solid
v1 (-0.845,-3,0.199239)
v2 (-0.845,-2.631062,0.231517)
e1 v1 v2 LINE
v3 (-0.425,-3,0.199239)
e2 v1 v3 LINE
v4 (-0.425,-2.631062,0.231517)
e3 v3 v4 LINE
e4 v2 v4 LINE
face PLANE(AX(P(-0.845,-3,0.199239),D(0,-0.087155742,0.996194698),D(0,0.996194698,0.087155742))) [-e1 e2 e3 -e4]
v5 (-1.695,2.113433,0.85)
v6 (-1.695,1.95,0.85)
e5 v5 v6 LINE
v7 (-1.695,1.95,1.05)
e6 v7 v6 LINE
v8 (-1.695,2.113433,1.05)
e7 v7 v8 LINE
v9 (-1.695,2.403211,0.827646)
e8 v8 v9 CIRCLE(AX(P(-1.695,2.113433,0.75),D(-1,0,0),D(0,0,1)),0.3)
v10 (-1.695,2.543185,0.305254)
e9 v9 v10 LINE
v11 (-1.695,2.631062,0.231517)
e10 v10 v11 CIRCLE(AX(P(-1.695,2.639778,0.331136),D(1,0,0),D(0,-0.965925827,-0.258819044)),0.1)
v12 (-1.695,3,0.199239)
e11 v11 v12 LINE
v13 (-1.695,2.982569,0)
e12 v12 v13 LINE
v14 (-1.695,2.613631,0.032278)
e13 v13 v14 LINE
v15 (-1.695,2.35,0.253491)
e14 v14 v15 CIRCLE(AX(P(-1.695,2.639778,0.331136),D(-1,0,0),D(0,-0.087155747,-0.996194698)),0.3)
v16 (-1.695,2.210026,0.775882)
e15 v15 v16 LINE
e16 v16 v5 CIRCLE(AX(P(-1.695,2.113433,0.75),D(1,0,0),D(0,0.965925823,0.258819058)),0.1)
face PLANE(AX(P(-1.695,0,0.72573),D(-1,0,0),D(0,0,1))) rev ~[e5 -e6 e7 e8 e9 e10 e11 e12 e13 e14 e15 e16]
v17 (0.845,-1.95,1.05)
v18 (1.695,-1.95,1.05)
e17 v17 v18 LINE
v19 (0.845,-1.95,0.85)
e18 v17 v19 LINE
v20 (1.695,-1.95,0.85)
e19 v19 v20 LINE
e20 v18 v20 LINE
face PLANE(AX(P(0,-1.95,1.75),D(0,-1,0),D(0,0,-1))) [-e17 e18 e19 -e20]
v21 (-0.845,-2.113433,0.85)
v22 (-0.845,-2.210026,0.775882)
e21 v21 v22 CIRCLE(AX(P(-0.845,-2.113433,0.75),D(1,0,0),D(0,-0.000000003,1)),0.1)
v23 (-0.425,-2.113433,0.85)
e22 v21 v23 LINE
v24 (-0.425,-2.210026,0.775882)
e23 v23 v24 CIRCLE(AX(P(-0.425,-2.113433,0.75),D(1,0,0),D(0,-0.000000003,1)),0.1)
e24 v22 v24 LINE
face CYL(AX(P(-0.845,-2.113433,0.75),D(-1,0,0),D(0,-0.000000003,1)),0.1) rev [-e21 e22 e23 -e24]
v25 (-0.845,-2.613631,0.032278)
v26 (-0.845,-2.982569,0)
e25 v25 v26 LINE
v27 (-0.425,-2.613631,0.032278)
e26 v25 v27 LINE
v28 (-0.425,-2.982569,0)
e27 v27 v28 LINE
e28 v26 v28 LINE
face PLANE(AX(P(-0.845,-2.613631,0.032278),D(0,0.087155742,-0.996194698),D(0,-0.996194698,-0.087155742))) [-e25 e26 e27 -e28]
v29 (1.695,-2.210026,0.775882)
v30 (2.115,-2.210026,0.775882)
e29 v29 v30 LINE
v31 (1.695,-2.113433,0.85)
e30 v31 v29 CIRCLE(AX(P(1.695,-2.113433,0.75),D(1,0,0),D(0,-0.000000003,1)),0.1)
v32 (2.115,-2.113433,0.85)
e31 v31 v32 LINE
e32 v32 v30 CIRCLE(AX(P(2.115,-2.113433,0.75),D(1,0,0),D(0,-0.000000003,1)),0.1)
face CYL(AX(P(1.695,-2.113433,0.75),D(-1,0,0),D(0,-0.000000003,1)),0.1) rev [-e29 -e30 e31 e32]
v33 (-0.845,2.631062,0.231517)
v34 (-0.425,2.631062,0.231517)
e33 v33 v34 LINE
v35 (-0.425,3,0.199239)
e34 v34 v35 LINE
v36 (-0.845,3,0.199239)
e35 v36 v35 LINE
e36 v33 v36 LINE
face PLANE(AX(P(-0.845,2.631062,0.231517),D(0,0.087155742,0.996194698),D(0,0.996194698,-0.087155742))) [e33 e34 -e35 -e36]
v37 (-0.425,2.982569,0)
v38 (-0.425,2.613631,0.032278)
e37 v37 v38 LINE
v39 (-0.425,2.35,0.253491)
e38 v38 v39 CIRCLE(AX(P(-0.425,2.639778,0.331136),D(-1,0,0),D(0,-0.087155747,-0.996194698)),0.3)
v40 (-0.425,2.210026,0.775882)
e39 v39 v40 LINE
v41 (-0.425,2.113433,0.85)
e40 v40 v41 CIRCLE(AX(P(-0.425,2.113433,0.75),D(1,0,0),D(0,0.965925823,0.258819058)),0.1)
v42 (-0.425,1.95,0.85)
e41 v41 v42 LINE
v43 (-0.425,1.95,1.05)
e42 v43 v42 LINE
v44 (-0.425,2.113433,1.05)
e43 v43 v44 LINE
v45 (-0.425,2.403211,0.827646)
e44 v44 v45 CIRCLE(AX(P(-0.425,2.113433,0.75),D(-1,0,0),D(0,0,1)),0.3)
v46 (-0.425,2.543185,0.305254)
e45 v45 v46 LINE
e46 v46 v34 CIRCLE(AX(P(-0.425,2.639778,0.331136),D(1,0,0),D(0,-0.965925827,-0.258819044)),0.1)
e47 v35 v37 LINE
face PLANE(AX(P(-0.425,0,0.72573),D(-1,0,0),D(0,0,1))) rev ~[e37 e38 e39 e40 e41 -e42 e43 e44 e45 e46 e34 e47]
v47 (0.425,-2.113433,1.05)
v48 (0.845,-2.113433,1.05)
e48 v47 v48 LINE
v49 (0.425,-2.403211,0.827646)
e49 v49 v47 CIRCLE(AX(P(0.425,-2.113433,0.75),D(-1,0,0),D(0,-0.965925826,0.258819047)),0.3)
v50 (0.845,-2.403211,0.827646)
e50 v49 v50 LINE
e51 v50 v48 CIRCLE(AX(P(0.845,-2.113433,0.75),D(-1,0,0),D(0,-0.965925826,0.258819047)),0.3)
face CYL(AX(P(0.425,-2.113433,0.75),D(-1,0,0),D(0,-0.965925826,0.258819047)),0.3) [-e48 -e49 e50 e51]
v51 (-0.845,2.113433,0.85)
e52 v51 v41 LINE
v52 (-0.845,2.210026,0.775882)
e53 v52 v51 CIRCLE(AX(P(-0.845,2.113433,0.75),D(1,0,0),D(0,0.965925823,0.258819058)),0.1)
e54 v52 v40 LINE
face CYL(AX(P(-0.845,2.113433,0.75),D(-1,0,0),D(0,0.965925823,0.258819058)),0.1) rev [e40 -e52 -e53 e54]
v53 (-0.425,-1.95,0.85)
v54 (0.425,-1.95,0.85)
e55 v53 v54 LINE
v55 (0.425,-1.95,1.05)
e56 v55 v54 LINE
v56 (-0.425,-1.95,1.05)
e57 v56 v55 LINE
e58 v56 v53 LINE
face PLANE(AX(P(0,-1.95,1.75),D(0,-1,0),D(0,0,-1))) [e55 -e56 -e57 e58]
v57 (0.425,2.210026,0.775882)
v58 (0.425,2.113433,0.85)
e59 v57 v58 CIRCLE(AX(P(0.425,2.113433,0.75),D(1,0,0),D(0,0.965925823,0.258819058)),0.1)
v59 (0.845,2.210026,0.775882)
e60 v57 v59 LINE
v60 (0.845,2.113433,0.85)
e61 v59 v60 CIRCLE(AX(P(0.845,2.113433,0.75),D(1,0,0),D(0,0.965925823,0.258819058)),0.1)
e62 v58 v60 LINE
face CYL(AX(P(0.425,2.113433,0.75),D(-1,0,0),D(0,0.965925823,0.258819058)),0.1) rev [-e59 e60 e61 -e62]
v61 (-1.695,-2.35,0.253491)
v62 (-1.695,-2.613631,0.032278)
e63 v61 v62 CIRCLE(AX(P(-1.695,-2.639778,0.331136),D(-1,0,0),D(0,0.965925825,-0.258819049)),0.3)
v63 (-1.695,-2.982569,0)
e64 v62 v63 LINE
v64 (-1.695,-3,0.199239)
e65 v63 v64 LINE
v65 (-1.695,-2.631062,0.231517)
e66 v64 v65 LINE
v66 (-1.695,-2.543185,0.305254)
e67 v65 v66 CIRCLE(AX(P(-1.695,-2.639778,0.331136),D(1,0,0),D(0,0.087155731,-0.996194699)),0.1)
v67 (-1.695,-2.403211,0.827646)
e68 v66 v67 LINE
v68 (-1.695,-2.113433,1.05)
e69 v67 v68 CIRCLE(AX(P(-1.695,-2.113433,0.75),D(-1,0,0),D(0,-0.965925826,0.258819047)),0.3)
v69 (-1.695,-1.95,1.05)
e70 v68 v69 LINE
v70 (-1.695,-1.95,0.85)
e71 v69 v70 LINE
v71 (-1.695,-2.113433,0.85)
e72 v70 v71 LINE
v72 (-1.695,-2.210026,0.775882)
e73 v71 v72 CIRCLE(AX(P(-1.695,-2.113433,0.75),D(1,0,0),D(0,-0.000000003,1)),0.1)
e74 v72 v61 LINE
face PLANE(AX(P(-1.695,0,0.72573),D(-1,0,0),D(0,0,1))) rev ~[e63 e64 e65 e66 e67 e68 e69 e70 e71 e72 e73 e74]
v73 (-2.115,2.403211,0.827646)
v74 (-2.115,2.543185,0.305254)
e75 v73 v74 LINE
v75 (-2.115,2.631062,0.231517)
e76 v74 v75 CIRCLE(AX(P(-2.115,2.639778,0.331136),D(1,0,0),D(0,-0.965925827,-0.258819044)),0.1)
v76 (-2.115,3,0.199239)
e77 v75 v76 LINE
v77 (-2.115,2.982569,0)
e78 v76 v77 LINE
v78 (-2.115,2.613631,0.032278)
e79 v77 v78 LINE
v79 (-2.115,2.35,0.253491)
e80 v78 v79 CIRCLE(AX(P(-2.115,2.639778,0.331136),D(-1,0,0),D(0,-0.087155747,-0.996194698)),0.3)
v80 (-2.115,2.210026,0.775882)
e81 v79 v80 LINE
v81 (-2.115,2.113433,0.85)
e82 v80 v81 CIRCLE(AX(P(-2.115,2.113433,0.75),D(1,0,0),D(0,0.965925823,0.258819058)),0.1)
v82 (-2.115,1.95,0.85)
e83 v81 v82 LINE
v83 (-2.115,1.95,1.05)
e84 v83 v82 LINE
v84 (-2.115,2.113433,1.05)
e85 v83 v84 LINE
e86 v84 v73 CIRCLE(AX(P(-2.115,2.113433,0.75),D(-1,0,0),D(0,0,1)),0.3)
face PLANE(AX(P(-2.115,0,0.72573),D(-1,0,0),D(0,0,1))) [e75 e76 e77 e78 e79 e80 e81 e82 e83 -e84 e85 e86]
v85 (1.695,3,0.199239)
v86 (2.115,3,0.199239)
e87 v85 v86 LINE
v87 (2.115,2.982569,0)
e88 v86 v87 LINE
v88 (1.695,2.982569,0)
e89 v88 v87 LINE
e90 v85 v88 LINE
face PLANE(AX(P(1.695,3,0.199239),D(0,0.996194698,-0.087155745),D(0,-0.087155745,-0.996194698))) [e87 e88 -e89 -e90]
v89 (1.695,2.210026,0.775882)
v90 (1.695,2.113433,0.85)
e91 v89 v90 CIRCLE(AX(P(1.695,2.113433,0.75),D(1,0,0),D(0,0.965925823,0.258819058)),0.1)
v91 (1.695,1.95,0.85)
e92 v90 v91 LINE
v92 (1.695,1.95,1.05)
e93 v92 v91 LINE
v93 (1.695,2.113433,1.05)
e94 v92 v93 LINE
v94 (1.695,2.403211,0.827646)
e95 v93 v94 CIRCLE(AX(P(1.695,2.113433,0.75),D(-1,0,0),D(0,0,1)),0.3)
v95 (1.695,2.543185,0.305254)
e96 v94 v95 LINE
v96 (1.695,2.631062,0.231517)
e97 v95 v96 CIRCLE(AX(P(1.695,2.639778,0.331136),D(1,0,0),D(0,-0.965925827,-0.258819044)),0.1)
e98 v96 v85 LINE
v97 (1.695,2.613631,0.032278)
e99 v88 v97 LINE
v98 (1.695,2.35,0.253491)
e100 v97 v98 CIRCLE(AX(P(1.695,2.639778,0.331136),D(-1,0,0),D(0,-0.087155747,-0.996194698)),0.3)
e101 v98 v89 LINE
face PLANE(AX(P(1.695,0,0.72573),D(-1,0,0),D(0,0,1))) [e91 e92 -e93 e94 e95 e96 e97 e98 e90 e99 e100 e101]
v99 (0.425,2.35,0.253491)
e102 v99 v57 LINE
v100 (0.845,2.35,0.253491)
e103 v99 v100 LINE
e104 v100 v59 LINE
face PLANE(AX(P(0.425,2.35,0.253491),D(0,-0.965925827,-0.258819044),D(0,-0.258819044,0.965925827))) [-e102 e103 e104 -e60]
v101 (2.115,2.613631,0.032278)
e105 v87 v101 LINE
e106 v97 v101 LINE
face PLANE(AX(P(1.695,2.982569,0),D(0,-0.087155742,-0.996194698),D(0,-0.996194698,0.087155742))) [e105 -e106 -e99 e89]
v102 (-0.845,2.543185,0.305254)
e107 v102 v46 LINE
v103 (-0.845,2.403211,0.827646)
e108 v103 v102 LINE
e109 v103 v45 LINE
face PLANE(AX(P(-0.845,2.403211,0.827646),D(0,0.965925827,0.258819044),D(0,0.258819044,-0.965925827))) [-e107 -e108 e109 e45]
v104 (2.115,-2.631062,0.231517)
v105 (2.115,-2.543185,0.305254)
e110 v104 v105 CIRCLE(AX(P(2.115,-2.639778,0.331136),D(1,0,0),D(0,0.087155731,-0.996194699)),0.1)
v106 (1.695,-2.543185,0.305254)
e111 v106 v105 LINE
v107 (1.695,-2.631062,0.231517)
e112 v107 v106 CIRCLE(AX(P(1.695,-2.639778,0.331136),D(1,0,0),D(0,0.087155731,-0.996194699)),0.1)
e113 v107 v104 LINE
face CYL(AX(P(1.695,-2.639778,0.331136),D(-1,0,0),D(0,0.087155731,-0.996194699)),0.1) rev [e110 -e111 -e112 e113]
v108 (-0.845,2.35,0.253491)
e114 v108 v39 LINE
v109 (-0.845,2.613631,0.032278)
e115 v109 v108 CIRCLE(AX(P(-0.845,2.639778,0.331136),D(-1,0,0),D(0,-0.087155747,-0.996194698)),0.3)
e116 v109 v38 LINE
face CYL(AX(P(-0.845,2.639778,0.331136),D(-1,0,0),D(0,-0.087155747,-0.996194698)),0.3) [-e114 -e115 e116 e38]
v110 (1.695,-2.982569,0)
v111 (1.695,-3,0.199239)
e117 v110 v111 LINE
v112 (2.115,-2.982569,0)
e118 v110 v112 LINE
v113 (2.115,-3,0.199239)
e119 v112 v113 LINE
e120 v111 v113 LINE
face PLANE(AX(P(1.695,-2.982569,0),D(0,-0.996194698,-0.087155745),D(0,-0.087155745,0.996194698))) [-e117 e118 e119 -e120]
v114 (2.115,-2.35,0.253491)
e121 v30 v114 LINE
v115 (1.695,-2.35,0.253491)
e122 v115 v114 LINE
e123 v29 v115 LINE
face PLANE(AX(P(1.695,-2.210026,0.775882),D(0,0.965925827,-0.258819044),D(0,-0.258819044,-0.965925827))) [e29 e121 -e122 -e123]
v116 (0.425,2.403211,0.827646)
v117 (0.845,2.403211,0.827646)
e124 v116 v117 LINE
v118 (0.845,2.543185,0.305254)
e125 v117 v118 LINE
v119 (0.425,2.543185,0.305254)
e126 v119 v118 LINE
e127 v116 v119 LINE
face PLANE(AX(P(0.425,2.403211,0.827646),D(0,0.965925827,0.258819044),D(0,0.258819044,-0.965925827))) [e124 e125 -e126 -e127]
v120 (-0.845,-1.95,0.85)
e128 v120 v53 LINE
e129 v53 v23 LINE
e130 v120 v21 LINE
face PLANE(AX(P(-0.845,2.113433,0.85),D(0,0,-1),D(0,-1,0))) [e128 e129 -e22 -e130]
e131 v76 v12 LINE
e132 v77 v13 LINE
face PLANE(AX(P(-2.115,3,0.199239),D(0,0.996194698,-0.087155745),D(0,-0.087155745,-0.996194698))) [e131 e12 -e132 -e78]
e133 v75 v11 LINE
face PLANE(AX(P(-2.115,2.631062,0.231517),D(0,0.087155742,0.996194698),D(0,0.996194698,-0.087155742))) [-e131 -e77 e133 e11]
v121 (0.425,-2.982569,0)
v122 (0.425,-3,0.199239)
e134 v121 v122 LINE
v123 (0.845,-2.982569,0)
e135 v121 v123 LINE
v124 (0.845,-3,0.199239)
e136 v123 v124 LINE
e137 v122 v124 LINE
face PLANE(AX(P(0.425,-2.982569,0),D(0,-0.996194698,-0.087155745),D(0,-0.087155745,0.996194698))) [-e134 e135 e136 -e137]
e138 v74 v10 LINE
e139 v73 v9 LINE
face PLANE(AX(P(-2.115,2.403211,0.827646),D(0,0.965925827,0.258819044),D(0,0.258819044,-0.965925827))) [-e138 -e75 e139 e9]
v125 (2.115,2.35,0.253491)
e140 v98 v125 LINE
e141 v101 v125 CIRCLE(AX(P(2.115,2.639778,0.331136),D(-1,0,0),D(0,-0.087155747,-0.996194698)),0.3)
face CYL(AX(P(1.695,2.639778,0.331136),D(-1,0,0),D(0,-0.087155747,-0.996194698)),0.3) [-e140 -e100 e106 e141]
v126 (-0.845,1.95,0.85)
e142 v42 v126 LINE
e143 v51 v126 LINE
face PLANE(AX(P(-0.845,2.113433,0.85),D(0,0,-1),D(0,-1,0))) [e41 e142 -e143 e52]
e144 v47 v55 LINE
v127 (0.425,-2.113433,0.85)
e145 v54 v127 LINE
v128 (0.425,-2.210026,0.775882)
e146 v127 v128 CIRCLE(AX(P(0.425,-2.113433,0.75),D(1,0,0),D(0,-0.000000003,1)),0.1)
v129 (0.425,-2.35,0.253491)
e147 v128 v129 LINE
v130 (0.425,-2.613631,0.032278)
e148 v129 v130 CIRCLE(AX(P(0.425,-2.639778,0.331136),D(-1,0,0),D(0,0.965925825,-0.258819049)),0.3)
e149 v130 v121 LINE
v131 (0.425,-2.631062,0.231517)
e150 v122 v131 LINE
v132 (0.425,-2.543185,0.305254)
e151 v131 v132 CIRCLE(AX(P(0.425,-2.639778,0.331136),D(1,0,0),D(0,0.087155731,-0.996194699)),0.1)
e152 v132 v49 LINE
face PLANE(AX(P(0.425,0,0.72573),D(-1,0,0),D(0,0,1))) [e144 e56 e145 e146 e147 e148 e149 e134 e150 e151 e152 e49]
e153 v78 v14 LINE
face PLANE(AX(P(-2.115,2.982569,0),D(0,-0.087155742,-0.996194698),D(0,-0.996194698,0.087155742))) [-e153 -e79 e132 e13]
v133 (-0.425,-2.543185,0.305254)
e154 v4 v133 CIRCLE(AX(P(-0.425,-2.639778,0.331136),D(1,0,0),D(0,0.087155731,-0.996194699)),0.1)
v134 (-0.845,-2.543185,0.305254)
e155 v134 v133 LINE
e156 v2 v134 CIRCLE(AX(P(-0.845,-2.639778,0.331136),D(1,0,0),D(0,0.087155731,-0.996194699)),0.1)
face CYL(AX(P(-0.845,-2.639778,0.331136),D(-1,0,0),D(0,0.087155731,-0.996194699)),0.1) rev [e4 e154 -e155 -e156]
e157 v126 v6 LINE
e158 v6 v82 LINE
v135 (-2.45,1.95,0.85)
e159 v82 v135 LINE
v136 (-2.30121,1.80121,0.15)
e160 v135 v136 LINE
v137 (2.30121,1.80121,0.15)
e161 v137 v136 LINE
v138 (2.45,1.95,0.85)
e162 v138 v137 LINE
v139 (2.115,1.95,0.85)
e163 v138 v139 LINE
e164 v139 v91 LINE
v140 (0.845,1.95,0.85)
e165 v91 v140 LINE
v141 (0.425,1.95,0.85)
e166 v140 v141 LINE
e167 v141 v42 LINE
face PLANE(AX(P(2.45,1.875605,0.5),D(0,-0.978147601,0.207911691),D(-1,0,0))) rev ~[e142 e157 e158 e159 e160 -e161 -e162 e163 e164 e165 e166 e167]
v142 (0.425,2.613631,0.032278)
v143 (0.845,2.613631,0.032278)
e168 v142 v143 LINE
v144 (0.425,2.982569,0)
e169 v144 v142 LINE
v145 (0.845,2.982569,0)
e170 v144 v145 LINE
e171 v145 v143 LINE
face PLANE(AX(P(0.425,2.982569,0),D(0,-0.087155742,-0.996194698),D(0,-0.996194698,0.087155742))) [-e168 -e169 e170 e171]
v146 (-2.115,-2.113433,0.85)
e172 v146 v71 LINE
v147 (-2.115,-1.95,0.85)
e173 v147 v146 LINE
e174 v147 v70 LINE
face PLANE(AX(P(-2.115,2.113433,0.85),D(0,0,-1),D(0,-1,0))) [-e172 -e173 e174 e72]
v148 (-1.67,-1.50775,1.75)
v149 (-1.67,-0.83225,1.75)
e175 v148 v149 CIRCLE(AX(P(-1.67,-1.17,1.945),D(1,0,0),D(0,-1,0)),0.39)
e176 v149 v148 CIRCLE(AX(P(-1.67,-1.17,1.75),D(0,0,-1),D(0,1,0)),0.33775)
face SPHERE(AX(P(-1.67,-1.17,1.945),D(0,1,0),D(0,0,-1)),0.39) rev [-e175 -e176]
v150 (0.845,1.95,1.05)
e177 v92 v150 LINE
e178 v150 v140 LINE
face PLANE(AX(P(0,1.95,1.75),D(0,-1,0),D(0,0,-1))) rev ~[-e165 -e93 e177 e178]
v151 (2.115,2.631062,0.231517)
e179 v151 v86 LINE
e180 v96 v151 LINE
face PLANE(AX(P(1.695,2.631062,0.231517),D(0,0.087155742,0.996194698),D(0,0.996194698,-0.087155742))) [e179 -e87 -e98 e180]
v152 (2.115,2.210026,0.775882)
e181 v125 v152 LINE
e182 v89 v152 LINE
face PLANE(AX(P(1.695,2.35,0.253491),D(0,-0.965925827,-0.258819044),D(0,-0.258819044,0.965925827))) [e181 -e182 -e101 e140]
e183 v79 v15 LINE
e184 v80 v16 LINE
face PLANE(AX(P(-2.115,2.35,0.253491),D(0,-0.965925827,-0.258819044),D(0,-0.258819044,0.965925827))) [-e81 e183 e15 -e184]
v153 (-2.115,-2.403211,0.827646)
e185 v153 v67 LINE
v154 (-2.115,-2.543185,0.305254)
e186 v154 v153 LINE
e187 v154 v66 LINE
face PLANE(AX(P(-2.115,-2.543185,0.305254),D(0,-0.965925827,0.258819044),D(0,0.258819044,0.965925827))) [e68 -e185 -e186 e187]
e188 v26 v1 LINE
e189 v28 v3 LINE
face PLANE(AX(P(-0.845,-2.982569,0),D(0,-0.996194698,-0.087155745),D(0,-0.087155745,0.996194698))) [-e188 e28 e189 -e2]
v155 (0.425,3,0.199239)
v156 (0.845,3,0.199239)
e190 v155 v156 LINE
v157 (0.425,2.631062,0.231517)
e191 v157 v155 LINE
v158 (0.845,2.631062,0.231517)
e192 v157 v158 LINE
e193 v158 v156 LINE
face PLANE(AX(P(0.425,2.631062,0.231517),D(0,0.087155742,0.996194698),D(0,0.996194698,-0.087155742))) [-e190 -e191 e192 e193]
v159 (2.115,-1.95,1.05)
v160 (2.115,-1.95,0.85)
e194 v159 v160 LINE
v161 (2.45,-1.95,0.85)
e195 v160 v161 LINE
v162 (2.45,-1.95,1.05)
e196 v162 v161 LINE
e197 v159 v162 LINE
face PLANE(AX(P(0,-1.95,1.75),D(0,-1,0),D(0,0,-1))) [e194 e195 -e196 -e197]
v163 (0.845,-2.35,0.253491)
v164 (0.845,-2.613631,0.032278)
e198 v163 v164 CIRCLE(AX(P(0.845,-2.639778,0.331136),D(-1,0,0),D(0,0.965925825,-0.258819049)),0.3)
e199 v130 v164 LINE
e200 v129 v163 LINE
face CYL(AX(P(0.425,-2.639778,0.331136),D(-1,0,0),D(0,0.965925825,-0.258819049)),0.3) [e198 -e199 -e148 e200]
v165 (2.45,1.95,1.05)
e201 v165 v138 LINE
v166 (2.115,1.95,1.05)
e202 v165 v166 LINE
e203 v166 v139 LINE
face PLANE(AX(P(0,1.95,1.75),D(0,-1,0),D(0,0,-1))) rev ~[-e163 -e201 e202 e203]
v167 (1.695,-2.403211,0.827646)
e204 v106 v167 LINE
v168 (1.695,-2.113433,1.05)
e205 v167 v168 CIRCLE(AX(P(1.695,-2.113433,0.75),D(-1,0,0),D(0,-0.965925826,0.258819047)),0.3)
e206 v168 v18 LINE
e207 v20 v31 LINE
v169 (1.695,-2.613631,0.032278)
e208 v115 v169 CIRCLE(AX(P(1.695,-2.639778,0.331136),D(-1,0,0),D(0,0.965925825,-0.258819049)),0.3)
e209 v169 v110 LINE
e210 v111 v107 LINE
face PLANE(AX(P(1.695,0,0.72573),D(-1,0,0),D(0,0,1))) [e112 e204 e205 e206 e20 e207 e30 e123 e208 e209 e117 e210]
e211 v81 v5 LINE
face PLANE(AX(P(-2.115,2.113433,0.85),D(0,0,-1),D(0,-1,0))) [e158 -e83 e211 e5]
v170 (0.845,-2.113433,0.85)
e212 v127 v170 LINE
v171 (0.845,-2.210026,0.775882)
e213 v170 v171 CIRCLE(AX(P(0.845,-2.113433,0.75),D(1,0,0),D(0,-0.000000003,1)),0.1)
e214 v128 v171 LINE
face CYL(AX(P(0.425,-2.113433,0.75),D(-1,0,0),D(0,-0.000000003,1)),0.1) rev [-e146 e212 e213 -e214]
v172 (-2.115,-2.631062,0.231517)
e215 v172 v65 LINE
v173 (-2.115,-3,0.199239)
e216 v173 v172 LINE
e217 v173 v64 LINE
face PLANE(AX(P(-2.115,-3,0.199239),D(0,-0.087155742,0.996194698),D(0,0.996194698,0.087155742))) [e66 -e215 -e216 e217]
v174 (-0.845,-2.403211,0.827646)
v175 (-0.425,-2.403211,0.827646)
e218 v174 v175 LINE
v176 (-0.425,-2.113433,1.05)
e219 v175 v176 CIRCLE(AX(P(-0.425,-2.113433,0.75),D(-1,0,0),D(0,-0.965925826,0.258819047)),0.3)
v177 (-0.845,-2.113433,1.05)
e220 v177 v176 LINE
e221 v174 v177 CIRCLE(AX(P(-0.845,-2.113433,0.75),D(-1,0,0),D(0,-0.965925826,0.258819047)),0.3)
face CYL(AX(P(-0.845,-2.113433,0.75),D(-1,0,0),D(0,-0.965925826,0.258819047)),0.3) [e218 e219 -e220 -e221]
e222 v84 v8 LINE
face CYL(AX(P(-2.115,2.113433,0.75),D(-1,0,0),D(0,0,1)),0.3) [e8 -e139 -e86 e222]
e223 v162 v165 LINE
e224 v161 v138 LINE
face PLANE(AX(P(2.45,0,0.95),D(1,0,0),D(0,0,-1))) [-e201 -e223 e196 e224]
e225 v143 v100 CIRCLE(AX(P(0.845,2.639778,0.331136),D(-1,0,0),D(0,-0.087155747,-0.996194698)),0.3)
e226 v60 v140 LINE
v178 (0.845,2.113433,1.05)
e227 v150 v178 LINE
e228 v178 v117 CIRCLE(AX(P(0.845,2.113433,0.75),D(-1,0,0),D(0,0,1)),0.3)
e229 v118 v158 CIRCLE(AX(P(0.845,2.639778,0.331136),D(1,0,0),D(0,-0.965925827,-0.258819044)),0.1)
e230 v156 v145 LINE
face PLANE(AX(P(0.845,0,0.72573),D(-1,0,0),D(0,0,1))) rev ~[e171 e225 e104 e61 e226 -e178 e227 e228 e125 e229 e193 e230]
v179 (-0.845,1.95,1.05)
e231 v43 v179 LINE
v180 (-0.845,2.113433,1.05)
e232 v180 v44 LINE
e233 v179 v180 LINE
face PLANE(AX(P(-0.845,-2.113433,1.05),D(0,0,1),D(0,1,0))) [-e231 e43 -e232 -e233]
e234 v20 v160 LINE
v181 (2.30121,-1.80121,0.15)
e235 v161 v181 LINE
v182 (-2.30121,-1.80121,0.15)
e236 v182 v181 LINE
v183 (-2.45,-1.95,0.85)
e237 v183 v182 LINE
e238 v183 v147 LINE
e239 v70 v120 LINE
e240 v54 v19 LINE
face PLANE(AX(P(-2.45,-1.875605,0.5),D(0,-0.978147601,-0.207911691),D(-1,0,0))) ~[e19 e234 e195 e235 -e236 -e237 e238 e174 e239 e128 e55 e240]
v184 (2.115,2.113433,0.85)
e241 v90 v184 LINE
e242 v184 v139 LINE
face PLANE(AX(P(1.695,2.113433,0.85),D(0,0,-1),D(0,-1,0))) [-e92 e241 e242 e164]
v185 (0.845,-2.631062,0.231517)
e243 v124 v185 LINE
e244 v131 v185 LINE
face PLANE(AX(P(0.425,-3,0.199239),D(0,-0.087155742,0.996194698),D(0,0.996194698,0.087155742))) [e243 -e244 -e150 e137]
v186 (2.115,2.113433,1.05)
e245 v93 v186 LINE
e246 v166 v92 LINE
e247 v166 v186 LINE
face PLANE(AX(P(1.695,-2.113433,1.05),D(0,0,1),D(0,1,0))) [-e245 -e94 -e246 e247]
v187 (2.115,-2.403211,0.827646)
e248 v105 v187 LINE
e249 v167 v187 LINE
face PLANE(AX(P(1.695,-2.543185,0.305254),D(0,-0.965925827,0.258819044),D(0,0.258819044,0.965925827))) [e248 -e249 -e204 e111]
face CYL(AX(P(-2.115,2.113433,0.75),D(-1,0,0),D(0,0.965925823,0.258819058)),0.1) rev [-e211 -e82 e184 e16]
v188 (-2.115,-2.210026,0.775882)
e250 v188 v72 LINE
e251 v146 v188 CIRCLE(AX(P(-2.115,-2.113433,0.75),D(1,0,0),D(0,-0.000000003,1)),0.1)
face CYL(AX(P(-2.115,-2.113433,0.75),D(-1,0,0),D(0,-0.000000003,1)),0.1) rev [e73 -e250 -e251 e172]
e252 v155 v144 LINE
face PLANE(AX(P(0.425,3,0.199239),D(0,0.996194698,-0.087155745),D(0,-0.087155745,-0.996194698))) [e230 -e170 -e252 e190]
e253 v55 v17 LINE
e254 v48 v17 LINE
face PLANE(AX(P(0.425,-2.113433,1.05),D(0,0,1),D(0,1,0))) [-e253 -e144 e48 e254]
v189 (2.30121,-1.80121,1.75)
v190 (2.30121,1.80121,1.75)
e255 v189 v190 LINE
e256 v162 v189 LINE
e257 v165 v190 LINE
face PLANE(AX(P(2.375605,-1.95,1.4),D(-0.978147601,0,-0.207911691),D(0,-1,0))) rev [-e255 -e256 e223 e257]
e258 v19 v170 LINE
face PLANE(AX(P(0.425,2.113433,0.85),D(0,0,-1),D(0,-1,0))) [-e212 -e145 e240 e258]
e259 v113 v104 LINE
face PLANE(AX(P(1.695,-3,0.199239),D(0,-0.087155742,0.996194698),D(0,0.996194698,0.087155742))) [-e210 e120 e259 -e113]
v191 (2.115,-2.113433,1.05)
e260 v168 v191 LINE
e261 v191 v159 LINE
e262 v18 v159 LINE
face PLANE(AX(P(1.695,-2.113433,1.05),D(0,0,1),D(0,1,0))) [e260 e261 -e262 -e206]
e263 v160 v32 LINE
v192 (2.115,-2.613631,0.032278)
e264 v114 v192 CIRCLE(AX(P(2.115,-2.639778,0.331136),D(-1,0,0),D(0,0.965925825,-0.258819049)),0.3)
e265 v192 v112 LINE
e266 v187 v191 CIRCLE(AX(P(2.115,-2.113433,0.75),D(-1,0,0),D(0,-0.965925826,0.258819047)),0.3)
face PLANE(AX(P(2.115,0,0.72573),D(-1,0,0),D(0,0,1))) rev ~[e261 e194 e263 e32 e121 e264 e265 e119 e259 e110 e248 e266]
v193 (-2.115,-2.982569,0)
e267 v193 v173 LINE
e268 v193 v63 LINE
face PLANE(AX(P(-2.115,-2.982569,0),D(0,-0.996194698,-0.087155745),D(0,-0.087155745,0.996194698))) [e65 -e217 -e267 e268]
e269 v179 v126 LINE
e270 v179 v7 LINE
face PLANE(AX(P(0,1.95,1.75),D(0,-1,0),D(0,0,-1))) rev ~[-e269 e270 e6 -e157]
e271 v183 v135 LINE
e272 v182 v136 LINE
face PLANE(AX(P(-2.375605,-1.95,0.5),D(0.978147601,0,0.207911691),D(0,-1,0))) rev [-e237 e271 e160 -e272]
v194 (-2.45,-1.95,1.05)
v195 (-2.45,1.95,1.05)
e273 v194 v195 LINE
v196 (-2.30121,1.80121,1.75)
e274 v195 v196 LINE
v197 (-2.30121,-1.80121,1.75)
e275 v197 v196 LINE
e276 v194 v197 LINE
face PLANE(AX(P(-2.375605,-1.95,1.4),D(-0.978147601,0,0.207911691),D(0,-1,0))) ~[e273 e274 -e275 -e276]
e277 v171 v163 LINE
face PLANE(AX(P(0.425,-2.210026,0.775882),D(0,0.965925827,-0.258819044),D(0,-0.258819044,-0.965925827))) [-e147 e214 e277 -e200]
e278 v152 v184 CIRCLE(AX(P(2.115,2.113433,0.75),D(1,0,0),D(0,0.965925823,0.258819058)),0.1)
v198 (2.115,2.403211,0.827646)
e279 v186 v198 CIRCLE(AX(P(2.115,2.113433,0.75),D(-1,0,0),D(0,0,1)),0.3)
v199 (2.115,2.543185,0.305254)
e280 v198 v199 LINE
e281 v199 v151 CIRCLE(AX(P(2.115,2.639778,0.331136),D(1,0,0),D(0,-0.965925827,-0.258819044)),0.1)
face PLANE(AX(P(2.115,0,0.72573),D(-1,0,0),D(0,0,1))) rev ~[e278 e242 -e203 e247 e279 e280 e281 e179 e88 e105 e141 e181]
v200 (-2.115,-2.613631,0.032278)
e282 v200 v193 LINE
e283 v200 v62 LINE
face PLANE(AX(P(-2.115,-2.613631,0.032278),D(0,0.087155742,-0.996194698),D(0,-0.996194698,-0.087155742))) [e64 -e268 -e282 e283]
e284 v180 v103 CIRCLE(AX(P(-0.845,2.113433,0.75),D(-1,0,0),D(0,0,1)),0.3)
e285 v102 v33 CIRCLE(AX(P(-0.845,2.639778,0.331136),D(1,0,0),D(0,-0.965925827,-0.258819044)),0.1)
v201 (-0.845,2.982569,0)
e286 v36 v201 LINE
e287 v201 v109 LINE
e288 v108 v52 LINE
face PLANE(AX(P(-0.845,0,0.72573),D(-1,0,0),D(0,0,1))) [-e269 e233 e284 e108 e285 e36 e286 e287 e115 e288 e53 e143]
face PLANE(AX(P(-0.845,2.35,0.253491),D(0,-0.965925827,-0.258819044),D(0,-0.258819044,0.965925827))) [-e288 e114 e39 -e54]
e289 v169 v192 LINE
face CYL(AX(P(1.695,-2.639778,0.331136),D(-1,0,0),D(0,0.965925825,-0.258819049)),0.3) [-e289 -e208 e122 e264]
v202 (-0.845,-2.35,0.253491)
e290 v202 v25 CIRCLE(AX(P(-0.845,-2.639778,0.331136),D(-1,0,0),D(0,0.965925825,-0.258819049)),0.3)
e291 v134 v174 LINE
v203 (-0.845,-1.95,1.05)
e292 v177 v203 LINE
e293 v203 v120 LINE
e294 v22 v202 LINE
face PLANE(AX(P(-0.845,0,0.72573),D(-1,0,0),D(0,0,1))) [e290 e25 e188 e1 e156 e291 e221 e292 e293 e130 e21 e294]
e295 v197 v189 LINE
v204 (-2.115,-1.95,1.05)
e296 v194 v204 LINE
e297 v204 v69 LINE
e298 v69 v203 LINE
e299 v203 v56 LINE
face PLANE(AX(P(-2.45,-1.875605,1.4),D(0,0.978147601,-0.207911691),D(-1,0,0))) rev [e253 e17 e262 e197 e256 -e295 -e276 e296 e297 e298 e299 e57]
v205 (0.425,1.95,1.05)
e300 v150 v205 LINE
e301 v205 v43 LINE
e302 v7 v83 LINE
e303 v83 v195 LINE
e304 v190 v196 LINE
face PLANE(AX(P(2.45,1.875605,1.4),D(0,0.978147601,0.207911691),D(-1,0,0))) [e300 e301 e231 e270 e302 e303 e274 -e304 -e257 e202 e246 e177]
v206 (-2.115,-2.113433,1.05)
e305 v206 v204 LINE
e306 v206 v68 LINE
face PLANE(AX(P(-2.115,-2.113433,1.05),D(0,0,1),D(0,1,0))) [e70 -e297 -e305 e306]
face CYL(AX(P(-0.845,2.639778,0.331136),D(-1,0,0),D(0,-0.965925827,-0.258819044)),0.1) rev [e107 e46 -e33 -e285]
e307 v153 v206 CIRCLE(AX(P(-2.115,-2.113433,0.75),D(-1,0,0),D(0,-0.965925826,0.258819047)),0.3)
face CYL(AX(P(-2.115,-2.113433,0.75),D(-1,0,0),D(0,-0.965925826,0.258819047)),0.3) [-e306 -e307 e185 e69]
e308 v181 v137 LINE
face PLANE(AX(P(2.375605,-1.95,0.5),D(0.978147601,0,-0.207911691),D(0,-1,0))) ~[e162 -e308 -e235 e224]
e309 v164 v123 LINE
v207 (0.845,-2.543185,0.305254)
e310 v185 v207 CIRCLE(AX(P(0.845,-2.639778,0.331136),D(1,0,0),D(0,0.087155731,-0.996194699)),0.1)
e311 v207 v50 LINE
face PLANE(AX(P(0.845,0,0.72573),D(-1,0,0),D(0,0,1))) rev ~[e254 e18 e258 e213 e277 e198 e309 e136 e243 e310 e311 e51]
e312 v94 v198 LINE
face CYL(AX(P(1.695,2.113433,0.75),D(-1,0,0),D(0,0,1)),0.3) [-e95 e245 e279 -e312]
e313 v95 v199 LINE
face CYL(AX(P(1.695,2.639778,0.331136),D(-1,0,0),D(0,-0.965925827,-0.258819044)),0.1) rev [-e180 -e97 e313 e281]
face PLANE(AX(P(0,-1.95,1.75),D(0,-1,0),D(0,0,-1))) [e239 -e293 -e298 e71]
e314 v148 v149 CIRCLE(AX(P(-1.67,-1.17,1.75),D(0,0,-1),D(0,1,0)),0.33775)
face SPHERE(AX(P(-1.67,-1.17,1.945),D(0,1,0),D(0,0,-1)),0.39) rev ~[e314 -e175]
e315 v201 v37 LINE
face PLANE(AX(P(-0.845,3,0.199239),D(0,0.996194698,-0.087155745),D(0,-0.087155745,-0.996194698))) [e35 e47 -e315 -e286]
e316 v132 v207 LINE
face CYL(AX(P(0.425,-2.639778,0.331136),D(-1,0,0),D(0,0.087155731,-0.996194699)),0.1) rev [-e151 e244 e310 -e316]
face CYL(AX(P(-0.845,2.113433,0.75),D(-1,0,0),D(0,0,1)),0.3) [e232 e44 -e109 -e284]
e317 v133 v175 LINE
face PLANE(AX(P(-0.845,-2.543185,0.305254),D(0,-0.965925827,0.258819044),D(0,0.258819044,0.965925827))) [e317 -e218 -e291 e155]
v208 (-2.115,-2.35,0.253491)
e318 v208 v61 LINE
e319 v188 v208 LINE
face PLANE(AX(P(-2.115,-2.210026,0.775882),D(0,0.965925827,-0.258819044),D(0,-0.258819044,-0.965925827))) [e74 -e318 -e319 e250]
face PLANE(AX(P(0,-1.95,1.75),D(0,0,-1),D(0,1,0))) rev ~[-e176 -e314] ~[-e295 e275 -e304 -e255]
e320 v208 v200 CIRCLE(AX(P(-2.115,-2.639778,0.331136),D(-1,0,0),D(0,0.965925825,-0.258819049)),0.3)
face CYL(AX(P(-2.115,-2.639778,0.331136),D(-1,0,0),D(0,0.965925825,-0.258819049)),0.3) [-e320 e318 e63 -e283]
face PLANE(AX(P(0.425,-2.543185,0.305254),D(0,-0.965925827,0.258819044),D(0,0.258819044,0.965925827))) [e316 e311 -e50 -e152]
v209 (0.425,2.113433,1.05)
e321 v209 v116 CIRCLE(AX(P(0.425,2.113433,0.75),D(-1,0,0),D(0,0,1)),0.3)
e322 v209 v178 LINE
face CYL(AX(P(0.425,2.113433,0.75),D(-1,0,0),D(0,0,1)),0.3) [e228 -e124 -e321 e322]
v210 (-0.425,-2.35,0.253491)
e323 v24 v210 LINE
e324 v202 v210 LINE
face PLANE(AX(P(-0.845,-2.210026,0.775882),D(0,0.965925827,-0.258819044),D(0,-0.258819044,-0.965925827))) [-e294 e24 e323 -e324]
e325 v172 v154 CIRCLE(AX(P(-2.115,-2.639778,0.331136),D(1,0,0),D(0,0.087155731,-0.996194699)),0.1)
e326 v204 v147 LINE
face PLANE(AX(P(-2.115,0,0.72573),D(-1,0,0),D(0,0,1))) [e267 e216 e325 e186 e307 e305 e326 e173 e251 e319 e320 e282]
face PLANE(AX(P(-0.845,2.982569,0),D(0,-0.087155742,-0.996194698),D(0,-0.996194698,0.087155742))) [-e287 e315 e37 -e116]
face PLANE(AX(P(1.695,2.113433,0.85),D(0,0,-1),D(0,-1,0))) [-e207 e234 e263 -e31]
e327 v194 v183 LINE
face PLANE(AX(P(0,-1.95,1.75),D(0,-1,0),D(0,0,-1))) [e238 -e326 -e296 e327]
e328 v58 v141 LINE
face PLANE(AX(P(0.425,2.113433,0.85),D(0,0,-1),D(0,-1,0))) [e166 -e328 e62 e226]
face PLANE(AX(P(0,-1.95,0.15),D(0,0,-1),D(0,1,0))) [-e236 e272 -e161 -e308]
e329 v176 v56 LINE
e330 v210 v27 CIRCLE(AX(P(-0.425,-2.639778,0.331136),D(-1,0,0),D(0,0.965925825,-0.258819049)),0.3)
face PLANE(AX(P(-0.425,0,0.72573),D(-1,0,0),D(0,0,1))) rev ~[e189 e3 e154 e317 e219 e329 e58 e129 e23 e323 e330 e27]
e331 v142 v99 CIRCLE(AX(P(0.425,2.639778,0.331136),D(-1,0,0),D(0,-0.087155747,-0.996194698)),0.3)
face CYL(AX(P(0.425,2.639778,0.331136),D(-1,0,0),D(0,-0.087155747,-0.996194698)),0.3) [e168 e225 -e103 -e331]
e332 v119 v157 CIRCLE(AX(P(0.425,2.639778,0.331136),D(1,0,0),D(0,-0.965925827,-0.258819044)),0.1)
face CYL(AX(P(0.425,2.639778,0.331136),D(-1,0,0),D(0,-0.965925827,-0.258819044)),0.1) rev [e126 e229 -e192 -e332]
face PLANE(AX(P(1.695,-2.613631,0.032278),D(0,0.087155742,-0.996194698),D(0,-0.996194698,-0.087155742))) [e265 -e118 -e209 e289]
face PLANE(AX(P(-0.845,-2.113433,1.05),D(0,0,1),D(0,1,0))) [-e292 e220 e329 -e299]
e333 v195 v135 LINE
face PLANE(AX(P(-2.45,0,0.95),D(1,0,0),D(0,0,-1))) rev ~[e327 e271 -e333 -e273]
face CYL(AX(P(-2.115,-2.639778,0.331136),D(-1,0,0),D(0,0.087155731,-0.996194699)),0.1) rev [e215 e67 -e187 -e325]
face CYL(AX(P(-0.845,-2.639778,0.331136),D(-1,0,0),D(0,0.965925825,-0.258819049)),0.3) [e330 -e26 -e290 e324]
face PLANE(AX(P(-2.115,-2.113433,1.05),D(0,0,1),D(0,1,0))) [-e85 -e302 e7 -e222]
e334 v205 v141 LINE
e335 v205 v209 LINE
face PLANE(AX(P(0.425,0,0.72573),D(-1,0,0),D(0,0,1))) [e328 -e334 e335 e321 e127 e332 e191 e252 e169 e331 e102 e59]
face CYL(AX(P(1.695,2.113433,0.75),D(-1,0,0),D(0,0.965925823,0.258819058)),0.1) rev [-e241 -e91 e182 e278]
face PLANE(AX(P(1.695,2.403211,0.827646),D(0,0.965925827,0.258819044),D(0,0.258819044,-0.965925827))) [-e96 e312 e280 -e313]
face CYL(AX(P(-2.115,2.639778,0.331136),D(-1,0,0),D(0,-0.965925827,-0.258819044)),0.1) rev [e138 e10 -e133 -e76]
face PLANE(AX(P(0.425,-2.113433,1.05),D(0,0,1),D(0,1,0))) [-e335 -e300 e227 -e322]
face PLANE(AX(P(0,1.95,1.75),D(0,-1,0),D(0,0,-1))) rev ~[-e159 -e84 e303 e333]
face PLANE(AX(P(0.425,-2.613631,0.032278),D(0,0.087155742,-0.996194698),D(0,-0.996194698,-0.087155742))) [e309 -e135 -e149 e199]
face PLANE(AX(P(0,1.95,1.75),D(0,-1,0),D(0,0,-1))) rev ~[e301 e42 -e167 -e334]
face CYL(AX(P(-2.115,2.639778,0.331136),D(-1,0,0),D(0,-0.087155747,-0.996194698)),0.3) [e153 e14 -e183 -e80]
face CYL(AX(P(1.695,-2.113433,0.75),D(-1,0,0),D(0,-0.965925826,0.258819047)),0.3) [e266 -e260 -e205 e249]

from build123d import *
from OCP.BRepFilletAPI import BRepFilletAPI_MakeChamfer
from build123d.topology import SkipClean

# Parameters (mm, degrees)
BODYWXH_W          = 1.6
BODYWXH_H          = 3.9
BOSS_BODY_DEPTH    = 2.45
CHAMFER1_SIZE      = 0.7
CHAMFER1_SIZE2     = 0.148789593
PINS_DEPTH         = 0.42
PATTERNLEADS_COUNT = 4
PATTERNLEADS_PITCH = 1.27


with BuildPart() as part:
    # BodyWxH → Boss-Body (new, symmetric)
    with BuildSketch(Plane(origin=(0, 0, 0), x_dir=(0, 0, -1), z_dir=(1, 0, 0))):
        with Locations((-0.95, 0)):
            Rectangle(BODYWXH_W, BODYWXH_H)
    extrude(amount=BOSS_BODY_DEPTH, both=True)

    # Chamfer1: one chamfer whose edges measure the first distance from different faces: ONE call of the kernel's chamfer builder (chamfer() names one face for all edges)
    chamfer1_edges_1 = [part.edges().sort_by_distance(p)[0] for p in [
        (0, -1.95, 0.15),
        (0, -1.95, 1.75),
    ]]
    chamfer1_side_1 = [part.faces().sort_by_distance(p)[0] for p in [
        (0, -1.95, 0.95),
    ]]
    chamfer1_edges_2 = [part.edges().sort_by_distance(p)[0] for p in [
        (2.45, 0, 0.15),
        (2.45, 0, 1.75),
    ]]
    chamfer1_side_2 = [part.faces().sort_by_distance(p)[0] for p in [
        (2.45, 0, 0.95),
    ]]
    chamfer1_edges_3 = [part.edges().sort_by_distance(p)[0] for p in [
        (0, 1.95, 0.15),
        (0, 1.95, 1.75),
    ]]
    chamfer1_side_3 = [part.faces().sort_by_distance(p)[0] for p in [
        (0, 1.95, 0.95),
    ]]
    chamfer1_edges_4 = [part.edges().sort_by_distance(p)[0] for p in [
        (-2.45, 0, 0.15),
        (-2.45, 0, 1.75),
    ]]
    chamfer1_side_4 = [part.faces().sort_by_distance(p)[0] for p in [
        (-2.45, 0, 0.95),
    ]]
    chamfer1 = BRepFilletAPI_MakeChamfer(part.part.solid().wrapped)
    for e in chamfer1_edges_1:
        chamfer1.Add(CHAMFER1_SIZE, CHAMFER1_SIZE2, e.wrapped, chamfer1_side_1[0].wrapped)  # the first distance lies on this face
    for e in chamfer1_edges_2:
        chamfer1.Add(CHAMFER1_SIZE, CHAMFER1_SIZE2, e.wrapped, chamfer1_side_2[0].wrapped)  # the first distance lies on this face
    for e in chamfer1_edges_3:
        chamfer1.Add(CHAMFER1_SIZE, CHAMFER1_SIZE2, e.wrapped, chamfer1_side_3[0].wrapped)  # the first distance lies on this face
    for e in chamfer1_edges_4:
        chamfer1.Add(CHAMFER1_SIZE, CHAMFER1_SIZE2, e.wrapped, chamfer1_side_4[0].wrapped)  # the first distance lies on this face
    add(Compound.cast(chamfer1.Shape()), mode=Mode.REPLACE)

    # LeadCross → Pins (add)
    with BuildSketch(Plane(origin=(-2.115, 0, 0), x_dir=(0, 0, -1), z_dir=(1, 0, 0))):
        with BuildLine():
            Line((0, -2.982568851), (-0.19923894, -3))
            Line((-0.19923894, -3), (-0.231516817, -2.631062174))
            ThreePointArc((-0.231516817, -2.631062174), (-0.254531842, -2.575498987), (-0.305254382, -2.543185165))
            Line((-0.305254382, -2.543185165), (-0.827645714, -2.40321083))
            ThreePointArc((-0.827645714, -2.40321083), (-0.988006002, -2.296061511), (-1.05, -2.113433082))
            Line((-1.05, -2.113433082), (-1.05, 2.113433082))
            ThreePointArc((-1.05, 2.113433082), (-0.988006002, 2.296061511), (-0.827645714, 2.40321083))
            Line((-0.827645714, 2.40321083), (-0.305254382, 2.543185165))
            ThreePointArc((-0.305254382, 2.543185165), (-0.254531842, 2.575498987), (-0.231516817, 2.631062174))
            Line((-0.231516817, 2.631062174), (-0.19923894, 3))
            Line((-0.19923894, 3), (0, 2.982568851))
            Line((0, 2.982568851), (-0.032277877, 2.613631025))
            ThreePointArc((-0.032277877, 2.613631025), (-0.101322954, 2.446941465), (-0.253490573, 2.35))
            Line((-0.253490573, 2.35), (-0.775881905, 2.210025665))
            ThreePointArc((-0.775881905, 2.210025665), (-0.829335334, 2.174309225), (-0.85, 2.113433082))
            Line((-0.85, 2.113433082), (-0.85, -2.113433082))
            ThreePointArc((-0.85, -2.113433082), (-0.829335334, -2.174309225), (-0.775881905, -2.210025665))
            Line((-0.775881905, -2.210025665), (-0.253490573, -2.35))
            ThreePointArc((-0.253490573, -2.35), (-0.101322954, -2.446941465), (-0.032277877, -2.613631025))
            Line((-0.032277877, -2.613631025), (0, -2.982568851))
        make_face()
    pins = extrude(amount=PINS_DEPTH)

    # PatternLeads: Pins ×4
    with Locations(*[(i * PATTERNLEADS_PITCH, 0, 0) for i in range(1, PATTERNLEADS_COUNT)]):
        add(pins)

    # Pin1Indent → Cut-Pin1Indent (revolve, cut)
    with SkipClean():  # the faces are left unmerged after this step: merging them gives an invalid solid
        with BuildSketch(Plane(origin=(-1.67, 0, 0), x_dir=(0, 0, -1), z_dir=(1, 0, 0))):
            with BuildLine():
                Line((-1.945, -0.78), (-1.945, -1.56))
                ThreePointArc((-1.945, -1.56), (-1.555, -1.17), (-1.945, -0.78))
            make_face()
        revolve(axis=Axis((-1.67, -0.78, 1.945), (0, -1, 0)), mode=Mode.SUBTRACT)


solid = part.part
